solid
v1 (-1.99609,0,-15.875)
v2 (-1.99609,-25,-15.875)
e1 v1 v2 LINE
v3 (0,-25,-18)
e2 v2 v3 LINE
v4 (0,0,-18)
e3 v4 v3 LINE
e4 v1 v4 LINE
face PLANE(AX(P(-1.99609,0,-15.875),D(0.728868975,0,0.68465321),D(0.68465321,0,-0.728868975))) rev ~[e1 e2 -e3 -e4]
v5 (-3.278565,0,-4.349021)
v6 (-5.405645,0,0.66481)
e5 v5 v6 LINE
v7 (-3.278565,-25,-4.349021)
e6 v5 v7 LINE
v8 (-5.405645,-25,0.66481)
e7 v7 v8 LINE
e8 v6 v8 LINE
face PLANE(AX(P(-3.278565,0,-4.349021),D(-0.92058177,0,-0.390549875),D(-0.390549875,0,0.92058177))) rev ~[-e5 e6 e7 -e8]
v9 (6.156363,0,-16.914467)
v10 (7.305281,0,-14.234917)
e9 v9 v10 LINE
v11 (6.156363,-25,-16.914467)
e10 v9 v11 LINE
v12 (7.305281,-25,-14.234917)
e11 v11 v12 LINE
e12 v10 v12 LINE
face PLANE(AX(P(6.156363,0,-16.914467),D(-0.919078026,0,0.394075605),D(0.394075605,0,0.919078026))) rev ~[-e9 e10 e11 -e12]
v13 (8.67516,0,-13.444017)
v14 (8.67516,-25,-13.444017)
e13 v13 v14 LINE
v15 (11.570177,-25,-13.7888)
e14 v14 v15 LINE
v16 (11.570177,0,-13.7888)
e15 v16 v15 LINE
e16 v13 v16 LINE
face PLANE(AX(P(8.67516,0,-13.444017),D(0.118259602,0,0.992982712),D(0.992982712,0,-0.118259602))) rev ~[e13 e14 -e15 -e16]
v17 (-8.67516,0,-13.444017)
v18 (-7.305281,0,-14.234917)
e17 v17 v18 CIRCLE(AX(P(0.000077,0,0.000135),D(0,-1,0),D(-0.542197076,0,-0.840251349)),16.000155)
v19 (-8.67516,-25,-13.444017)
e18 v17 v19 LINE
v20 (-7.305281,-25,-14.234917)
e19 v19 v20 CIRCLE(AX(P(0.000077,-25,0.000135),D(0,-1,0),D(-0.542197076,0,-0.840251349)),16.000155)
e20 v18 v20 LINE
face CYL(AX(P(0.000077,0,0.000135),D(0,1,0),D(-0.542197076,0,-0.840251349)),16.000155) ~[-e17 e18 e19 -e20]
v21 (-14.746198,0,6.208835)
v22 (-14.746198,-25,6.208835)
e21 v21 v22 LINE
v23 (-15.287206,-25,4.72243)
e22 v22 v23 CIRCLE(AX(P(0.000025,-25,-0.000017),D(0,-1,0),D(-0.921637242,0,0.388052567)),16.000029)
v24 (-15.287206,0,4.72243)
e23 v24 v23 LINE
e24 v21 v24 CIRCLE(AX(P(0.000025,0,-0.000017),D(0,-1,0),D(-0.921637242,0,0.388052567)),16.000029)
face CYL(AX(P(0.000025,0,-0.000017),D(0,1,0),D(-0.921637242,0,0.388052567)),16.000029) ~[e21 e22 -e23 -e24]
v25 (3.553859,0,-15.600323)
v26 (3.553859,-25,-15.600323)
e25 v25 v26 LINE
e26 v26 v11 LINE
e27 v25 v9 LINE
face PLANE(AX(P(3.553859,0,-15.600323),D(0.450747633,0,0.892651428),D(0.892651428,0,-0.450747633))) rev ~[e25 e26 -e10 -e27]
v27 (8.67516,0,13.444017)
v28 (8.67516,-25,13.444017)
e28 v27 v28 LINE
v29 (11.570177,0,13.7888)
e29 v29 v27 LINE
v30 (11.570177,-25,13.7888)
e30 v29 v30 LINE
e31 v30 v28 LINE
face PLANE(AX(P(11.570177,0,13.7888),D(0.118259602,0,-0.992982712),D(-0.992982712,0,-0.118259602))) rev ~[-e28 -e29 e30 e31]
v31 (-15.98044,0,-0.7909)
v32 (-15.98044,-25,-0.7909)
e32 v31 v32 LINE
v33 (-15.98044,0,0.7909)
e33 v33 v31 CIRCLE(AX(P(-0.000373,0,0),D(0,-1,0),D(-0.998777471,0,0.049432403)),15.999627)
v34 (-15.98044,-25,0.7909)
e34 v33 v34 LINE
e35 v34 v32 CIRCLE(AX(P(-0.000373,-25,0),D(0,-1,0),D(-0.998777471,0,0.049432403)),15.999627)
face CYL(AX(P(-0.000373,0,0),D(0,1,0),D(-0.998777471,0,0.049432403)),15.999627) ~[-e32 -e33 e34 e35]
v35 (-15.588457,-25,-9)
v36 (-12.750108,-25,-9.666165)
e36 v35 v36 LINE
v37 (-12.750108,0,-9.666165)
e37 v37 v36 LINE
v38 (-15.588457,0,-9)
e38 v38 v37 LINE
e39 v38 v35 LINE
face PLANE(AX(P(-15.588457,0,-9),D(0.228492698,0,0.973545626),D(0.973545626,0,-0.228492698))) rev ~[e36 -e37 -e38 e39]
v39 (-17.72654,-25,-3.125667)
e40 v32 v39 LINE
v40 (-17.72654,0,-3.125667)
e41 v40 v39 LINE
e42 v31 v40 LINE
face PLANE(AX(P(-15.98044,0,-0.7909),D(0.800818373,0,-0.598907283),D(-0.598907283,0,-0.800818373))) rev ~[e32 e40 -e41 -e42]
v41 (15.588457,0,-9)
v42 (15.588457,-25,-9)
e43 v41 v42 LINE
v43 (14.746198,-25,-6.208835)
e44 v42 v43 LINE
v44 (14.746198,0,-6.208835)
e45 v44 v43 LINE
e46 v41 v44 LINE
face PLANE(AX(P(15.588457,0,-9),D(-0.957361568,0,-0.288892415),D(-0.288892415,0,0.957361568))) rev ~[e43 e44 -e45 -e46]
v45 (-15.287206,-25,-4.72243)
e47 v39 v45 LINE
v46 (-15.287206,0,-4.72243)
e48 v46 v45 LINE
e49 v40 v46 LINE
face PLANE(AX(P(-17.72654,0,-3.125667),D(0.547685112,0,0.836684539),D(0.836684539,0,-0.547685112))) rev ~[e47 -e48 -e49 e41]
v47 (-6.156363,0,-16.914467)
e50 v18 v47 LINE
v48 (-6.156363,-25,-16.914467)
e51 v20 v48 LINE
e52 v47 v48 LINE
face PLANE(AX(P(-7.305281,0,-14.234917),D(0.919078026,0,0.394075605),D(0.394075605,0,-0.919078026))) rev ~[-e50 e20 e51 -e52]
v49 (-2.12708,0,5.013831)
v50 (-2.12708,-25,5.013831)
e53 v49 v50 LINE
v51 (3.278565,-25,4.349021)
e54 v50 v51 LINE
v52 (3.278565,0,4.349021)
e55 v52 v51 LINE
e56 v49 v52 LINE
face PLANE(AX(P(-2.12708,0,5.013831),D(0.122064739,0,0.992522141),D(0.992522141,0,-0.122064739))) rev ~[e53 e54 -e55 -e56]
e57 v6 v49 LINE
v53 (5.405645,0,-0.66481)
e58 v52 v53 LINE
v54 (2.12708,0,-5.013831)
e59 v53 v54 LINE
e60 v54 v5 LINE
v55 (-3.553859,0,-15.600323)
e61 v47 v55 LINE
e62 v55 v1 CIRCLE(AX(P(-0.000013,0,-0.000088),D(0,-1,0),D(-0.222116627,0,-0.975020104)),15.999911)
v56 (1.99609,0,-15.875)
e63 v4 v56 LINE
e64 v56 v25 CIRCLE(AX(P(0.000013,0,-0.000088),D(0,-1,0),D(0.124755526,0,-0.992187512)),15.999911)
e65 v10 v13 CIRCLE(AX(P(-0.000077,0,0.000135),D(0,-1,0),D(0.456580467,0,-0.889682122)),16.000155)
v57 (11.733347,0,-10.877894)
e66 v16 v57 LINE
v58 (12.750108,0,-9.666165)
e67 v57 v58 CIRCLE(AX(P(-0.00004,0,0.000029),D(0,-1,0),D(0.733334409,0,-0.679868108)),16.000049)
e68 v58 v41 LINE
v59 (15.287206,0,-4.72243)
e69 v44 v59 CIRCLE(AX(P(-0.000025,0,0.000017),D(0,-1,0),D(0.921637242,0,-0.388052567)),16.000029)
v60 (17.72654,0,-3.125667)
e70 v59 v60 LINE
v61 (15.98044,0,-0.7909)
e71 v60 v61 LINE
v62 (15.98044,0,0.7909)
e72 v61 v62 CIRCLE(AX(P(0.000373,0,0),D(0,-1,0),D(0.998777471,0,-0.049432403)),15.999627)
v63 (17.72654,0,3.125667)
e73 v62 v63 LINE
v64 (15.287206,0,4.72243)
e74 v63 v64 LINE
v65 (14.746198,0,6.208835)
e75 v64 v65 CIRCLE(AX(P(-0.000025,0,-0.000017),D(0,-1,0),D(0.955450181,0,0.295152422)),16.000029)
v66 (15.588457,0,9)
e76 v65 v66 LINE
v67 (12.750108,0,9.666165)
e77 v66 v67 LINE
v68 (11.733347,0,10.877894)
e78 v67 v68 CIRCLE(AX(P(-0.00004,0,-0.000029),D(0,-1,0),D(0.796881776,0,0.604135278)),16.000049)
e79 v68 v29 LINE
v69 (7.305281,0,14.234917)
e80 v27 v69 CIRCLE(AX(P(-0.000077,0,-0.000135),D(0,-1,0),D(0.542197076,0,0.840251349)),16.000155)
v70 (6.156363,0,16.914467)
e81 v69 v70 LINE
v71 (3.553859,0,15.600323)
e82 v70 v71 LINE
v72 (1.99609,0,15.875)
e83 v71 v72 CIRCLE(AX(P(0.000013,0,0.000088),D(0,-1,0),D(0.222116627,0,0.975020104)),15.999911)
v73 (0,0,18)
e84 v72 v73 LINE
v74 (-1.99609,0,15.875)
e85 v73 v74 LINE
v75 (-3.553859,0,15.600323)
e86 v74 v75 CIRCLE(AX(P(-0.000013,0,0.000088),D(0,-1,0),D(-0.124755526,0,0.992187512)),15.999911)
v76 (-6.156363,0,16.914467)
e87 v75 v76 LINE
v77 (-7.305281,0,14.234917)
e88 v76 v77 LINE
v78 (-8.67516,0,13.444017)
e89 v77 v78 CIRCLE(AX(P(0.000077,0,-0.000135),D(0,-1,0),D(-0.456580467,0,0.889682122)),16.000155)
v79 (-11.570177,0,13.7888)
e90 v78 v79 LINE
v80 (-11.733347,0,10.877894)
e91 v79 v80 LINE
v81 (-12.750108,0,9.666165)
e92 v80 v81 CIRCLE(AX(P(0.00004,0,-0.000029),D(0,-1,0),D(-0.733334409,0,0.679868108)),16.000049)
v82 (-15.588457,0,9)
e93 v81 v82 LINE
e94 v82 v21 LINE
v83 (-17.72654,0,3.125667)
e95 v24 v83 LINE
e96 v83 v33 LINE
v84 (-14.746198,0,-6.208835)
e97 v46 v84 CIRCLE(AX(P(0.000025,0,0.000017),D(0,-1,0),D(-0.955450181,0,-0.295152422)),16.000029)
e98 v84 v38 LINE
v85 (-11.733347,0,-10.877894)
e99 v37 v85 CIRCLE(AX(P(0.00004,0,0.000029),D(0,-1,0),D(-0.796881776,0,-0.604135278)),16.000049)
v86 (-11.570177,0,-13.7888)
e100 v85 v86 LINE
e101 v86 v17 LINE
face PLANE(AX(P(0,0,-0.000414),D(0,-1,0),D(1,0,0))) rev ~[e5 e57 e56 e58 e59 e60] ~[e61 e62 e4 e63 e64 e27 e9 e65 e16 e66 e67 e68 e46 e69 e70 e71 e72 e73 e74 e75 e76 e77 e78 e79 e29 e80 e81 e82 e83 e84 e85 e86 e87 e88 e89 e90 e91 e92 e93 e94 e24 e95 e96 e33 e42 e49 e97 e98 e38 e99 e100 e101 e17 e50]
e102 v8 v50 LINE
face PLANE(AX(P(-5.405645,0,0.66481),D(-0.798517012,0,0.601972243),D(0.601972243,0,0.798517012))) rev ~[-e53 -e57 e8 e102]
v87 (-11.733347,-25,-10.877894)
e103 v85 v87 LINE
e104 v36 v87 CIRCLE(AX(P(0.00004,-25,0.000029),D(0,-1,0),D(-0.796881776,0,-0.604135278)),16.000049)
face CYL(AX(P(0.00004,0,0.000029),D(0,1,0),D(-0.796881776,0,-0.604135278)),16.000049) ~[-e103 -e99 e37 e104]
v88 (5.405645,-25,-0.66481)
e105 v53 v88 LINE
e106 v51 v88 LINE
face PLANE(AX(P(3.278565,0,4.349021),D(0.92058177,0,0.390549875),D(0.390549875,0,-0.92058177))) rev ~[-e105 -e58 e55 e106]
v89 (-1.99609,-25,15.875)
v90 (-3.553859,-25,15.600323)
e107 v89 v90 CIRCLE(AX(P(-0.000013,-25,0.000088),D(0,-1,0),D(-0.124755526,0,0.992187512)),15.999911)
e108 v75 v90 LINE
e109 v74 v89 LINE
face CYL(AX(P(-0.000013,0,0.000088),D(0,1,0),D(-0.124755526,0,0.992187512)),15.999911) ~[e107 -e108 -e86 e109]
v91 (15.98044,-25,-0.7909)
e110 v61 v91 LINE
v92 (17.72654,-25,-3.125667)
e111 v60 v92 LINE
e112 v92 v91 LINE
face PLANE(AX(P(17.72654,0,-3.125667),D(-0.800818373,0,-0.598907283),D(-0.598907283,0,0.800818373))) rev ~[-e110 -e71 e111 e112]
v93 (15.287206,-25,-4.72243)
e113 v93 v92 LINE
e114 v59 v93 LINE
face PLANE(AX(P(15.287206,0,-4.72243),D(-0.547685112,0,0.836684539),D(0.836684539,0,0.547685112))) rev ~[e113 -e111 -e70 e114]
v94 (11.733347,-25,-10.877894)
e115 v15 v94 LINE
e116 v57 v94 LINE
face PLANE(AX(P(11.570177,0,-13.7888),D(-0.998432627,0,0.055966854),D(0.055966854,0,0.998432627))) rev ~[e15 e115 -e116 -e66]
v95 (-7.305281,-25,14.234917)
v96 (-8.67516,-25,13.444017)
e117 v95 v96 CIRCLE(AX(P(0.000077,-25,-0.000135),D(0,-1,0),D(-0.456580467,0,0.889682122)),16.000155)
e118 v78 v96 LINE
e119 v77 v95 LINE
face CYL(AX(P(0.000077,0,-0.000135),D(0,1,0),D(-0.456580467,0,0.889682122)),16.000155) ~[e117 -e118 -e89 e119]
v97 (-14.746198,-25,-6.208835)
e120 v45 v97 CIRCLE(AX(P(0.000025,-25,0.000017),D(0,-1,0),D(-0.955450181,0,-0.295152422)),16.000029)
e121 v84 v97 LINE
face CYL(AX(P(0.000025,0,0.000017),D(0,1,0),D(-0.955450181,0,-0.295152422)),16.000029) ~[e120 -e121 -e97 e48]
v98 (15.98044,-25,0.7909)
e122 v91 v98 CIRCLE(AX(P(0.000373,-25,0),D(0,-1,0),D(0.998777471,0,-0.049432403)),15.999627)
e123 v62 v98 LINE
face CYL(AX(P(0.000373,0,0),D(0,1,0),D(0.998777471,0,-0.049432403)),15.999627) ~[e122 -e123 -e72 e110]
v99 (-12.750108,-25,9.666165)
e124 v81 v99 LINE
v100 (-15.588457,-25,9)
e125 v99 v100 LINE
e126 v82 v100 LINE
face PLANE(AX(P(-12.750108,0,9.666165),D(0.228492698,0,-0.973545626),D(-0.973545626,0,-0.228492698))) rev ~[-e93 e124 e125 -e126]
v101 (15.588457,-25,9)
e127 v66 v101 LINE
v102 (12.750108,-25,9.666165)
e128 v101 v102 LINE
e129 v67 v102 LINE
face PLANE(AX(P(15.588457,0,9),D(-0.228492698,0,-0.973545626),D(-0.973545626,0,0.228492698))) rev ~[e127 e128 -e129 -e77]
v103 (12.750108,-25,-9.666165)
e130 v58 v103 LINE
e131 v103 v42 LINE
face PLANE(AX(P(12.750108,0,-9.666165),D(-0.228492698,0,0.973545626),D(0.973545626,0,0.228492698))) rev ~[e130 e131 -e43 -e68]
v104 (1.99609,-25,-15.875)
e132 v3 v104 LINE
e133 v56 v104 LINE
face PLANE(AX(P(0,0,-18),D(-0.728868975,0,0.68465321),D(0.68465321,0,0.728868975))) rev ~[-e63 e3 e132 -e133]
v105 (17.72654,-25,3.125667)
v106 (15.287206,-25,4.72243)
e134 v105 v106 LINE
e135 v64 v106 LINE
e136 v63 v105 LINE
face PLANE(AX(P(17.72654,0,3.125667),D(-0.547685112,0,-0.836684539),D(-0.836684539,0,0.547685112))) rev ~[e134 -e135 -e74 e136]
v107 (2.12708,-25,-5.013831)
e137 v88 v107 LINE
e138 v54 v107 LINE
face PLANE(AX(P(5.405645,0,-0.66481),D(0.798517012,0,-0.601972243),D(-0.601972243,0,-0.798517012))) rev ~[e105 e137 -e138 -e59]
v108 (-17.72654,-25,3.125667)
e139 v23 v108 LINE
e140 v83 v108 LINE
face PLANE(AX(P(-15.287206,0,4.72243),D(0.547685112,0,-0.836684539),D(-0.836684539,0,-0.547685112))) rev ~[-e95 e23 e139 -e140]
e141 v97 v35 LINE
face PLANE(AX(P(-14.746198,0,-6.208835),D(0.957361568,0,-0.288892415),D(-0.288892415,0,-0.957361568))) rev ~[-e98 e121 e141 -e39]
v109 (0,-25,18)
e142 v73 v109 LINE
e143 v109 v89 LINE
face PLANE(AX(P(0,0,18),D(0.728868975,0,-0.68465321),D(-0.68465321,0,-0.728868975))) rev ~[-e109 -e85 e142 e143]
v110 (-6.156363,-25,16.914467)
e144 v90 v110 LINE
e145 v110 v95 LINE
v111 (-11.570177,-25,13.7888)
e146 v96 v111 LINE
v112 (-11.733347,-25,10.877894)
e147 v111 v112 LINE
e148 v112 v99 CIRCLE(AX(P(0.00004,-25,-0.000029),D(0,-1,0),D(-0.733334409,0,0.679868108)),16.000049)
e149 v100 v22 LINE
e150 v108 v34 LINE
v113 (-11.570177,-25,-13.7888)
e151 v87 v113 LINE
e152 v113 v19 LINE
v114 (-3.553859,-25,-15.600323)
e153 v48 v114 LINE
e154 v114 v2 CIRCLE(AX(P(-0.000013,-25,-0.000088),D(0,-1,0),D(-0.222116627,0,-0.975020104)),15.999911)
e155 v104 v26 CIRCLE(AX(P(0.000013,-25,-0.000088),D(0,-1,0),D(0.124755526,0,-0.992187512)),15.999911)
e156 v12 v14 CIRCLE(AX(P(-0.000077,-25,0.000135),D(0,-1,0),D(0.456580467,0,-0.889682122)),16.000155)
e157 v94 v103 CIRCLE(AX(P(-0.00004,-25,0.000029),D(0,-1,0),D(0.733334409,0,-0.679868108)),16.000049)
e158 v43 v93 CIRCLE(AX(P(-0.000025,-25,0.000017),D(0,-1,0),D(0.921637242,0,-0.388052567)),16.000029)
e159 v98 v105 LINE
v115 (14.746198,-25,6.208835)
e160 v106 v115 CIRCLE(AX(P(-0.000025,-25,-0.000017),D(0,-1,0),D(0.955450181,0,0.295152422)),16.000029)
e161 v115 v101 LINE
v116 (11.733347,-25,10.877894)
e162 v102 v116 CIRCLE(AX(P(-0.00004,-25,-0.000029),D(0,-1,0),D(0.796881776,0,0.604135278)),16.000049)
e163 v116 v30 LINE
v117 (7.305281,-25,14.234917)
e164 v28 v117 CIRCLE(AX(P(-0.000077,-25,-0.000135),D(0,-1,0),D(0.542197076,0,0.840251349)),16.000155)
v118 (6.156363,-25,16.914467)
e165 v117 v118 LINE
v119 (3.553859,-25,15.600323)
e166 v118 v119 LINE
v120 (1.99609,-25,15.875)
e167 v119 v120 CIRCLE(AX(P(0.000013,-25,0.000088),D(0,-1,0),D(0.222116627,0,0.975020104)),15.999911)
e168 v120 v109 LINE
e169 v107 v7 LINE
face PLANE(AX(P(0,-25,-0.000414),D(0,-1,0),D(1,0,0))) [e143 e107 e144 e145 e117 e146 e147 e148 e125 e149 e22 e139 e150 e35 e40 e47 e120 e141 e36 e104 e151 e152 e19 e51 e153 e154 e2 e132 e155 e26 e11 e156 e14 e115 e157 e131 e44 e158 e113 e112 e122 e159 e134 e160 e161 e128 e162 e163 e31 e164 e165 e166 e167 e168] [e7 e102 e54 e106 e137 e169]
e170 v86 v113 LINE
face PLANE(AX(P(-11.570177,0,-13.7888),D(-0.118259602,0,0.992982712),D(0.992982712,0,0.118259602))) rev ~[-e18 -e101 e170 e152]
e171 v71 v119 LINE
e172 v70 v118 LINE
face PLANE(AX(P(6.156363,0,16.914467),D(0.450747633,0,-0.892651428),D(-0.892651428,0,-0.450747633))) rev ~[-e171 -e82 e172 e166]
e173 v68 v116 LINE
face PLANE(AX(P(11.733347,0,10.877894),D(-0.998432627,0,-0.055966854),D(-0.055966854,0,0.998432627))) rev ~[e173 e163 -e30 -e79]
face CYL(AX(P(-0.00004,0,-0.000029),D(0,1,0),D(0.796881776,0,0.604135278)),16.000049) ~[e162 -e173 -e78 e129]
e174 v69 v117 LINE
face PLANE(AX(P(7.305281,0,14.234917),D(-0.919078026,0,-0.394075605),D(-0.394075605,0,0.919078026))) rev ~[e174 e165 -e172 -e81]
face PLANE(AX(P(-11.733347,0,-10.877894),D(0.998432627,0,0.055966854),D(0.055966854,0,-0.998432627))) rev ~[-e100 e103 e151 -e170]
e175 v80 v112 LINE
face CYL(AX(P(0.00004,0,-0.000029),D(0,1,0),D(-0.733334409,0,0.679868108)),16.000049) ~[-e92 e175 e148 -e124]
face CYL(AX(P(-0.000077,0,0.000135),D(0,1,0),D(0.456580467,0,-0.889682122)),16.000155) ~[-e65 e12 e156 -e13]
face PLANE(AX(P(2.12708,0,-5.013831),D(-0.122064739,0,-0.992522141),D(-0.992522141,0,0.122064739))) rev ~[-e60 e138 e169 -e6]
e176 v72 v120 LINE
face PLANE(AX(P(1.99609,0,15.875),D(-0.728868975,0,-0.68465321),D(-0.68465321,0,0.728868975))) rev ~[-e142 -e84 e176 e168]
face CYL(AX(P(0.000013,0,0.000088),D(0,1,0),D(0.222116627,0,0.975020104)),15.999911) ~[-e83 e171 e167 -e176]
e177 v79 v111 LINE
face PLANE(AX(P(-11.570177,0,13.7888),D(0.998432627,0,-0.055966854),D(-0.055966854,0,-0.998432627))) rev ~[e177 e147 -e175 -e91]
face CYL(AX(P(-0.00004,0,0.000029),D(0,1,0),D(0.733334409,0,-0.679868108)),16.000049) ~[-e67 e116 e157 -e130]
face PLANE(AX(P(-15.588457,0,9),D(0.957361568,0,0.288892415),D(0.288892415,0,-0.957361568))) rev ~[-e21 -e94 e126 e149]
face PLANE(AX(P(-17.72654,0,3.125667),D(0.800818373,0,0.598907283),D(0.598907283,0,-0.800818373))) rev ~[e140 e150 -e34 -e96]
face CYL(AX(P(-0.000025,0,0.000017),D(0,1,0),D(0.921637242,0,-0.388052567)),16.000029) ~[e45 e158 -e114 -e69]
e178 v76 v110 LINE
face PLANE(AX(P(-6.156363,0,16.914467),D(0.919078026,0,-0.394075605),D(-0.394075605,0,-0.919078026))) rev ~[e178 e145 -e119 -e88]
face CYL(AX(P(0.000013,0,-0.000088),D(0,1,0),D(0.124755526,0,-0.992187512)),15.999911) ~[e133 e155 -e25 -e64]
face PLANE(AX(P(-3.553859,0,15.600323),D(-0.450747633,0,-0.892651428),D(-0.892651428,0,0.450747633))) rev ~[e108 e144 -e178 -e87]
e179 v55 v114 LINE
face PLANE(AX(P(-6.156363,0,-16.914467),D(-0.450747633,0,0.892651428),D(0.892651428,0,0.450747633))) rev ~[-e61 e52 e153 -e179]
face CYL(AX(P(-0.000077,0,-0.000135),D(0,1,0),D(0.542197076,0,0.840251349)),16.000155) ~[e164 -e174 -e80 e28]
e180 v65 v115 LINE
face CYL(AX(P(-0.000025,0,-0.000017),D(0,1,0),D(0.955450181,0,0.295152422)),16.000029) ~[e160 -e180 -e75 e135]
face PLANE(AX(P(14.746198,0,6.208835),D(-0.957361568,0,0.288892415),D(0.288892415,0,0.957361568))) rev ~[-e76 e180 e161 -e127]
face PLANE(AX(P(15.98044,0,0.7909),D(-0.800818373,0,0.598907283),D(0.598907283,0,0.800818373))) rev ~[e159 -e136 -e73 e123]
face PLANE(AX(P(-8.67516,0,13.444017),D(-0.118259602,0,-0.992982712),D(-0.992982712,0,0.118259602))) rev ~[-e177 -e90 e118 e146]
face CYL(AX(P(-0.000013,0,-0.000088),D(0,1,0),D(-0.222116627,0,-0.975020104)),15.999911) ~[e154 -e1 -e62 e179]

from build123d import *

# Parameters (mm, degrees)
F1_DEPTH = 25


with BuildPart() as f1:
    # F0 (on Front) → F1 (new body)
    with BuildSketch(Plane.XZ):
        with BuildLine():
            ThreePointArc((1.99609, 15.875), (0, 16), (-1.99609, 15.875))
            ThreePointArc((-1.99609, 15.875), (-2.778371, 15.756924), (-3.553859, 15.600323))
            ThreePointArc((-3.553859, 15.600323), (-5.472322, 15.035082), (-7.305281, 14.234917))
            ThreePointArc((-7.305281, 14.234917), (-8, 13.856406), (-8.67516, 13.444017))
            ThreePointArc((-8.67516, 13.444017), (-10.284602, 12.256711), (-11.733347, 10.877894))
            ThreePointArc((-11.733347, 10.877894), (-12.256711, 10.284602), (-12.750108, 9.666165))
            ThreePointArc((-12.750108, 9.666165), (-13.856406, 8), (-14.746198, 6.208835))
            ThreePointArc((-14.746198, 6.208835), (-15.035082, 5.472322), (-15.287206, 4.72243))
            ThreePointArc((-15.287206, 4.72243), (-15.756924, 2.778371), (-15.98044, 0.7909))
            ThreePointArc((-15.98044, 0.7909), (-16, 0), (-15.98044, -0.7909))
            ThreePointArc((-15.98044, -0.7909), (-15.756924, -2.778371), (-15.287206, -4.72243))
            ThreePointArc((-15.287206, -4.72243), (-15.035082, -5.472322), (-14.746198, -6.208835))
            ThreePointArc((-14.746198, -6.208835), (-13.856406, -8), (-12.750108, -9.666165))
            ThreePointArc((-12.750108, -9.666165), (-12.256711, -10.284602), (-11.733347, -10.877894))
            ThreePointArc((-11.733347, -10.877894), (-10.284602, -12.256711), (-8.67516, -13.444017))
            ThreePointArc((-8.67516, -13.444017), (-8, -13.856406), (-7.305281, -14.234917))
            ThreePointArc((-7.305281, -14.234917), (-5.472322, -15.035082), (-3.553859, -15.600323))
            ThreePointArc((-3.553859, -15.600323), (-2.778371, -15.756924), (-1.99609, -15.875))
            ThreePointArc((-1.99609, -15.875), (-1, -15.968719), (0, -16))
            ThreePointArc((0, -16), (1, -15.968719), (1.99609, -15.875))
            ThreePointArc((1.99609, -15.875), (2.778371, -15.756924), (3.553859, -15.600323))
            ThreePointArc((3.553859, -15.600323), (5.472322, -15.035082), (7.305281, -14.234917))
            ThreePointArc((7.305281, -14.234917), (8, -13.856406), (8.67516, -13.444017))
            ThreePointArc((8.67516, -13.444017), (10.284602, -12.256711), (11.733347, -10.877894))
            ThreePointArc((11.733347, -10.877894), (12.256711, -10.284602), (12.750108, -9.666165))
            ThreePointArc((12.750108, -9.666165), (13.856406, -8), (14.746198, -6.208835))
            ThreePointArc((14.746198, -6.208835), (15.035082, -5.472322), (15.287206, -4.72243))
            ThreePointArc((15.287206, -4.72243), (15.756924, -2.778371), (15.98044, -0.7909))
            ThreePointArc((15.98044, -0.7909), (16, 0), (15.98044, 0.7909))
            ThreePointArc((15.98044, 0.7909), (15.756924, 2.778371), (15.287206, 4.72243))
            ThreePointArc((15.287206, 4.72243), (15.035082, 5.472322), (14.746198, 6.208835))
            ThreePointArc((14.746198, 6.208835), (13.856406, 8), (12.750108, 9.666165))
            ThreePointArc((12.750108, 9.666165), (12.256711, 10.284602), (11.733347, 10.877894))
            ThreePointArc((11.733347, 10.877894), (10.284602, 12.256711), (8.67516, 13.444017))
            ThreePointArc((8.67516, 13.444017), (8, 13.856406), (7.305281, 14.234917))
            ThreePointArc((7.305281, 14.234917), (5.472322, 15.035082), (3.553859, 15.600323))
            ThreePointArc((3.553859, 15.600323), (2.778371, 15.756924), (1.99609, 15.875))
        make_face()
        Polygon((-2.12708, 5.013831), (3.278565, 4.349021), (5.405645, -0.66481), (2.12708, -5.013831), (-3.278565, -4.349021), (-5.405645, 0.66481), align=None, mode=Mode.SUBTRACT)
        with BuildLine():
            Line((6.156363, 16.914467), (3.553859, 15.600323))
            ThreePointArc((3.553859, 15.600323), (5.472322, 15.035082), (7.305281, 14.234917))
            Line((7.305281, 14.234917), (6.156363, 16.914467))
        make_face()
        with BuildLine():
            Line((0, 18), (-1.99609, 15.875))
            ThreePointArc((-1.99609, 15.875), (0, 16), (1.99609, 15.875))
            Line((1.99609, 15.875), (0, 18))
        make_face()
        with BuildLine():
            ThreePointArc((-7.305281, 14.234917), (-5.472322, 15.035082), (-3.553859, 15.600323))
            Line((-3.553859, 15.600323), (-6.156363, 16.914467))
            Line((-6.156363, 16.914467), (-7.305281, 14.234917))
        make_face()
        with BuildLine():
            ThreePointArc((-11.733347, 10.877894), (-10.284602, 12.256711), (-8.67516, 13.444017))
            Line((-8.67516, 13.444017), (-11.570177, 13.7888))
            Line((-11.570177, 13.7888), (-11.733347, 10.877894))
        make_face()
        with BuildLine():
            ThreePointArc((-14.746198, 6.208835), (-13.856406, 8), (-12.750108, 9.666165))
            Line((-12.750108, 9.666165), (-15.588457, 9))
            Line((-15.588457, 9), (-14.746198, 6.208835))
        make_face()
        with BuildLine():
            ThreePointArc((-15.98044, 0.7909), (-15.756924, 2.778371), (-15.287206, 4.72243))
            Line((-15.287206, 4.72243), (-17.72654, 3.125667))
            Line((-17.72654, 3.125667), (-15.98044, 0.7909))
        make_face()
        with BuildLine():
            ThreePointArc((-15.287206, -4.72243), (-15.756924, -2.778371), (-15.98044, -0.7909))
            Line((-15.98044, -0.7909), (-17.72654, -3.125667))
            Line((-17.72654, -3.125667), (-15.287206, -4.72243))
        make_face()
        with BuildLine():
            ThreePointArc((-12.750108, -9.666165), (-13.856406, -8), (-14.746198, -6.208835))
            Line((-14.746198, -6.208835), (-15.588457, -9))
            Line((-15.588457, -9), (-12.750108, -9.666165))
        make_face()
        with BuildLine():
            ThreePointArc((-8.67516, -13.444017), (-10.284602, -12.256711), (-11.733347, -10.877894))
            Line((-11.733347, -10.877894), (-11.570177, -13.7888))
            Line((-11.570177, -13.7888), (-8.67516, -13.444017))
        make_face()
        with BuildLine():
            ThreePointArc((-3.553859, -15.600323), (-5.472322, -15.035082), (-7.305281, -14.234917))
            Line((-7.305281, -14.234917), (-6.156363, -16.914467))
            Line((-6.156363, -16.914467), (-3.553859, -15.600323))
        make_face()
        with BuildLine():
            ThreePointArc((0, -16), (-1, -15.968719), (-1.99609, -15.875))
            Line((-1.99609, -15.875), (0, -18))
            Line((0, -18), (1.99609, -15.875))
            ThreePointArc((1.99609, -15.875), (1, -15.968719), (0, -16))
        make_face()
        with BuildLine():
            Line((6.156363, -16.914467), (7.305281, -14.234917))
            ThreePointArc((7.305281, -14.234917), (5.472322, -15.035082), (3.553859, -15.600323))
            Line((3.553859, -15.600323), (6.156363, -16.914467))
        make_face()
        with BuildLine():
            Line((15.588457, -9), (14.746198, -6.208835))
            ThreePointArc((14.746198, -6.208835), (13.856406, -8), (12.750108, -9.666165))
            Line((12.750108, -9.666165), (15.588457, -9))
        make_face()
        with BuildLine():
            Line((17.72654, -3.125667), (15.98044, -0.7909))
            ThreePointArc((15.98044, -0.7909), (15.756924, -2.778371), (15.287206, -4.72243))
            Line((15.287206, -4.72243), (17.72654, -3.125667))
        make_face()
        with BuildLine():
            Line((17.72654, 3.125667), (15.287206, 4.72243))
            ThreePointArc((15.287206, 4.72243), (15.756924, 2.778371), (15.98044, 0.7909))
            Line((15.98044, 0.7909), (17.72654, 3.125667))
        make_face()
        with BuildLine():
            Line((15.588457, 9), (12.750108, 9.666165))
            ThreePointArc((12.750108, 9.666165), (13.856406, 8), (14.746198, 6.208835))
            Line((14.746198, 6.208835), (15.588457, 9))
        make_face()
        with BuildLine():
            Line((11.570177, 13.7888), (8.67516, 13.444017))
            ThreePointArc((8.67516, 13.444017), (10.284602, 12.256711), (11.733347, 10.877894))
            Line((11.733347, 10.877894), (11.570177, 13.7888))
        make_face()
        with BuildLine():
            Line((11.570177, -13.7888), (11.733347, -10.877894))
            ThreePointArc((11.733347, -10.877894), (10.284602, -12.256711), (8.67516, -13.444017))
            Line((8.67516, -13.444017), (11.570177, -13.7888))
        make_face()
    extrude(amount=F1_DEPTH)


solid = f1.part
